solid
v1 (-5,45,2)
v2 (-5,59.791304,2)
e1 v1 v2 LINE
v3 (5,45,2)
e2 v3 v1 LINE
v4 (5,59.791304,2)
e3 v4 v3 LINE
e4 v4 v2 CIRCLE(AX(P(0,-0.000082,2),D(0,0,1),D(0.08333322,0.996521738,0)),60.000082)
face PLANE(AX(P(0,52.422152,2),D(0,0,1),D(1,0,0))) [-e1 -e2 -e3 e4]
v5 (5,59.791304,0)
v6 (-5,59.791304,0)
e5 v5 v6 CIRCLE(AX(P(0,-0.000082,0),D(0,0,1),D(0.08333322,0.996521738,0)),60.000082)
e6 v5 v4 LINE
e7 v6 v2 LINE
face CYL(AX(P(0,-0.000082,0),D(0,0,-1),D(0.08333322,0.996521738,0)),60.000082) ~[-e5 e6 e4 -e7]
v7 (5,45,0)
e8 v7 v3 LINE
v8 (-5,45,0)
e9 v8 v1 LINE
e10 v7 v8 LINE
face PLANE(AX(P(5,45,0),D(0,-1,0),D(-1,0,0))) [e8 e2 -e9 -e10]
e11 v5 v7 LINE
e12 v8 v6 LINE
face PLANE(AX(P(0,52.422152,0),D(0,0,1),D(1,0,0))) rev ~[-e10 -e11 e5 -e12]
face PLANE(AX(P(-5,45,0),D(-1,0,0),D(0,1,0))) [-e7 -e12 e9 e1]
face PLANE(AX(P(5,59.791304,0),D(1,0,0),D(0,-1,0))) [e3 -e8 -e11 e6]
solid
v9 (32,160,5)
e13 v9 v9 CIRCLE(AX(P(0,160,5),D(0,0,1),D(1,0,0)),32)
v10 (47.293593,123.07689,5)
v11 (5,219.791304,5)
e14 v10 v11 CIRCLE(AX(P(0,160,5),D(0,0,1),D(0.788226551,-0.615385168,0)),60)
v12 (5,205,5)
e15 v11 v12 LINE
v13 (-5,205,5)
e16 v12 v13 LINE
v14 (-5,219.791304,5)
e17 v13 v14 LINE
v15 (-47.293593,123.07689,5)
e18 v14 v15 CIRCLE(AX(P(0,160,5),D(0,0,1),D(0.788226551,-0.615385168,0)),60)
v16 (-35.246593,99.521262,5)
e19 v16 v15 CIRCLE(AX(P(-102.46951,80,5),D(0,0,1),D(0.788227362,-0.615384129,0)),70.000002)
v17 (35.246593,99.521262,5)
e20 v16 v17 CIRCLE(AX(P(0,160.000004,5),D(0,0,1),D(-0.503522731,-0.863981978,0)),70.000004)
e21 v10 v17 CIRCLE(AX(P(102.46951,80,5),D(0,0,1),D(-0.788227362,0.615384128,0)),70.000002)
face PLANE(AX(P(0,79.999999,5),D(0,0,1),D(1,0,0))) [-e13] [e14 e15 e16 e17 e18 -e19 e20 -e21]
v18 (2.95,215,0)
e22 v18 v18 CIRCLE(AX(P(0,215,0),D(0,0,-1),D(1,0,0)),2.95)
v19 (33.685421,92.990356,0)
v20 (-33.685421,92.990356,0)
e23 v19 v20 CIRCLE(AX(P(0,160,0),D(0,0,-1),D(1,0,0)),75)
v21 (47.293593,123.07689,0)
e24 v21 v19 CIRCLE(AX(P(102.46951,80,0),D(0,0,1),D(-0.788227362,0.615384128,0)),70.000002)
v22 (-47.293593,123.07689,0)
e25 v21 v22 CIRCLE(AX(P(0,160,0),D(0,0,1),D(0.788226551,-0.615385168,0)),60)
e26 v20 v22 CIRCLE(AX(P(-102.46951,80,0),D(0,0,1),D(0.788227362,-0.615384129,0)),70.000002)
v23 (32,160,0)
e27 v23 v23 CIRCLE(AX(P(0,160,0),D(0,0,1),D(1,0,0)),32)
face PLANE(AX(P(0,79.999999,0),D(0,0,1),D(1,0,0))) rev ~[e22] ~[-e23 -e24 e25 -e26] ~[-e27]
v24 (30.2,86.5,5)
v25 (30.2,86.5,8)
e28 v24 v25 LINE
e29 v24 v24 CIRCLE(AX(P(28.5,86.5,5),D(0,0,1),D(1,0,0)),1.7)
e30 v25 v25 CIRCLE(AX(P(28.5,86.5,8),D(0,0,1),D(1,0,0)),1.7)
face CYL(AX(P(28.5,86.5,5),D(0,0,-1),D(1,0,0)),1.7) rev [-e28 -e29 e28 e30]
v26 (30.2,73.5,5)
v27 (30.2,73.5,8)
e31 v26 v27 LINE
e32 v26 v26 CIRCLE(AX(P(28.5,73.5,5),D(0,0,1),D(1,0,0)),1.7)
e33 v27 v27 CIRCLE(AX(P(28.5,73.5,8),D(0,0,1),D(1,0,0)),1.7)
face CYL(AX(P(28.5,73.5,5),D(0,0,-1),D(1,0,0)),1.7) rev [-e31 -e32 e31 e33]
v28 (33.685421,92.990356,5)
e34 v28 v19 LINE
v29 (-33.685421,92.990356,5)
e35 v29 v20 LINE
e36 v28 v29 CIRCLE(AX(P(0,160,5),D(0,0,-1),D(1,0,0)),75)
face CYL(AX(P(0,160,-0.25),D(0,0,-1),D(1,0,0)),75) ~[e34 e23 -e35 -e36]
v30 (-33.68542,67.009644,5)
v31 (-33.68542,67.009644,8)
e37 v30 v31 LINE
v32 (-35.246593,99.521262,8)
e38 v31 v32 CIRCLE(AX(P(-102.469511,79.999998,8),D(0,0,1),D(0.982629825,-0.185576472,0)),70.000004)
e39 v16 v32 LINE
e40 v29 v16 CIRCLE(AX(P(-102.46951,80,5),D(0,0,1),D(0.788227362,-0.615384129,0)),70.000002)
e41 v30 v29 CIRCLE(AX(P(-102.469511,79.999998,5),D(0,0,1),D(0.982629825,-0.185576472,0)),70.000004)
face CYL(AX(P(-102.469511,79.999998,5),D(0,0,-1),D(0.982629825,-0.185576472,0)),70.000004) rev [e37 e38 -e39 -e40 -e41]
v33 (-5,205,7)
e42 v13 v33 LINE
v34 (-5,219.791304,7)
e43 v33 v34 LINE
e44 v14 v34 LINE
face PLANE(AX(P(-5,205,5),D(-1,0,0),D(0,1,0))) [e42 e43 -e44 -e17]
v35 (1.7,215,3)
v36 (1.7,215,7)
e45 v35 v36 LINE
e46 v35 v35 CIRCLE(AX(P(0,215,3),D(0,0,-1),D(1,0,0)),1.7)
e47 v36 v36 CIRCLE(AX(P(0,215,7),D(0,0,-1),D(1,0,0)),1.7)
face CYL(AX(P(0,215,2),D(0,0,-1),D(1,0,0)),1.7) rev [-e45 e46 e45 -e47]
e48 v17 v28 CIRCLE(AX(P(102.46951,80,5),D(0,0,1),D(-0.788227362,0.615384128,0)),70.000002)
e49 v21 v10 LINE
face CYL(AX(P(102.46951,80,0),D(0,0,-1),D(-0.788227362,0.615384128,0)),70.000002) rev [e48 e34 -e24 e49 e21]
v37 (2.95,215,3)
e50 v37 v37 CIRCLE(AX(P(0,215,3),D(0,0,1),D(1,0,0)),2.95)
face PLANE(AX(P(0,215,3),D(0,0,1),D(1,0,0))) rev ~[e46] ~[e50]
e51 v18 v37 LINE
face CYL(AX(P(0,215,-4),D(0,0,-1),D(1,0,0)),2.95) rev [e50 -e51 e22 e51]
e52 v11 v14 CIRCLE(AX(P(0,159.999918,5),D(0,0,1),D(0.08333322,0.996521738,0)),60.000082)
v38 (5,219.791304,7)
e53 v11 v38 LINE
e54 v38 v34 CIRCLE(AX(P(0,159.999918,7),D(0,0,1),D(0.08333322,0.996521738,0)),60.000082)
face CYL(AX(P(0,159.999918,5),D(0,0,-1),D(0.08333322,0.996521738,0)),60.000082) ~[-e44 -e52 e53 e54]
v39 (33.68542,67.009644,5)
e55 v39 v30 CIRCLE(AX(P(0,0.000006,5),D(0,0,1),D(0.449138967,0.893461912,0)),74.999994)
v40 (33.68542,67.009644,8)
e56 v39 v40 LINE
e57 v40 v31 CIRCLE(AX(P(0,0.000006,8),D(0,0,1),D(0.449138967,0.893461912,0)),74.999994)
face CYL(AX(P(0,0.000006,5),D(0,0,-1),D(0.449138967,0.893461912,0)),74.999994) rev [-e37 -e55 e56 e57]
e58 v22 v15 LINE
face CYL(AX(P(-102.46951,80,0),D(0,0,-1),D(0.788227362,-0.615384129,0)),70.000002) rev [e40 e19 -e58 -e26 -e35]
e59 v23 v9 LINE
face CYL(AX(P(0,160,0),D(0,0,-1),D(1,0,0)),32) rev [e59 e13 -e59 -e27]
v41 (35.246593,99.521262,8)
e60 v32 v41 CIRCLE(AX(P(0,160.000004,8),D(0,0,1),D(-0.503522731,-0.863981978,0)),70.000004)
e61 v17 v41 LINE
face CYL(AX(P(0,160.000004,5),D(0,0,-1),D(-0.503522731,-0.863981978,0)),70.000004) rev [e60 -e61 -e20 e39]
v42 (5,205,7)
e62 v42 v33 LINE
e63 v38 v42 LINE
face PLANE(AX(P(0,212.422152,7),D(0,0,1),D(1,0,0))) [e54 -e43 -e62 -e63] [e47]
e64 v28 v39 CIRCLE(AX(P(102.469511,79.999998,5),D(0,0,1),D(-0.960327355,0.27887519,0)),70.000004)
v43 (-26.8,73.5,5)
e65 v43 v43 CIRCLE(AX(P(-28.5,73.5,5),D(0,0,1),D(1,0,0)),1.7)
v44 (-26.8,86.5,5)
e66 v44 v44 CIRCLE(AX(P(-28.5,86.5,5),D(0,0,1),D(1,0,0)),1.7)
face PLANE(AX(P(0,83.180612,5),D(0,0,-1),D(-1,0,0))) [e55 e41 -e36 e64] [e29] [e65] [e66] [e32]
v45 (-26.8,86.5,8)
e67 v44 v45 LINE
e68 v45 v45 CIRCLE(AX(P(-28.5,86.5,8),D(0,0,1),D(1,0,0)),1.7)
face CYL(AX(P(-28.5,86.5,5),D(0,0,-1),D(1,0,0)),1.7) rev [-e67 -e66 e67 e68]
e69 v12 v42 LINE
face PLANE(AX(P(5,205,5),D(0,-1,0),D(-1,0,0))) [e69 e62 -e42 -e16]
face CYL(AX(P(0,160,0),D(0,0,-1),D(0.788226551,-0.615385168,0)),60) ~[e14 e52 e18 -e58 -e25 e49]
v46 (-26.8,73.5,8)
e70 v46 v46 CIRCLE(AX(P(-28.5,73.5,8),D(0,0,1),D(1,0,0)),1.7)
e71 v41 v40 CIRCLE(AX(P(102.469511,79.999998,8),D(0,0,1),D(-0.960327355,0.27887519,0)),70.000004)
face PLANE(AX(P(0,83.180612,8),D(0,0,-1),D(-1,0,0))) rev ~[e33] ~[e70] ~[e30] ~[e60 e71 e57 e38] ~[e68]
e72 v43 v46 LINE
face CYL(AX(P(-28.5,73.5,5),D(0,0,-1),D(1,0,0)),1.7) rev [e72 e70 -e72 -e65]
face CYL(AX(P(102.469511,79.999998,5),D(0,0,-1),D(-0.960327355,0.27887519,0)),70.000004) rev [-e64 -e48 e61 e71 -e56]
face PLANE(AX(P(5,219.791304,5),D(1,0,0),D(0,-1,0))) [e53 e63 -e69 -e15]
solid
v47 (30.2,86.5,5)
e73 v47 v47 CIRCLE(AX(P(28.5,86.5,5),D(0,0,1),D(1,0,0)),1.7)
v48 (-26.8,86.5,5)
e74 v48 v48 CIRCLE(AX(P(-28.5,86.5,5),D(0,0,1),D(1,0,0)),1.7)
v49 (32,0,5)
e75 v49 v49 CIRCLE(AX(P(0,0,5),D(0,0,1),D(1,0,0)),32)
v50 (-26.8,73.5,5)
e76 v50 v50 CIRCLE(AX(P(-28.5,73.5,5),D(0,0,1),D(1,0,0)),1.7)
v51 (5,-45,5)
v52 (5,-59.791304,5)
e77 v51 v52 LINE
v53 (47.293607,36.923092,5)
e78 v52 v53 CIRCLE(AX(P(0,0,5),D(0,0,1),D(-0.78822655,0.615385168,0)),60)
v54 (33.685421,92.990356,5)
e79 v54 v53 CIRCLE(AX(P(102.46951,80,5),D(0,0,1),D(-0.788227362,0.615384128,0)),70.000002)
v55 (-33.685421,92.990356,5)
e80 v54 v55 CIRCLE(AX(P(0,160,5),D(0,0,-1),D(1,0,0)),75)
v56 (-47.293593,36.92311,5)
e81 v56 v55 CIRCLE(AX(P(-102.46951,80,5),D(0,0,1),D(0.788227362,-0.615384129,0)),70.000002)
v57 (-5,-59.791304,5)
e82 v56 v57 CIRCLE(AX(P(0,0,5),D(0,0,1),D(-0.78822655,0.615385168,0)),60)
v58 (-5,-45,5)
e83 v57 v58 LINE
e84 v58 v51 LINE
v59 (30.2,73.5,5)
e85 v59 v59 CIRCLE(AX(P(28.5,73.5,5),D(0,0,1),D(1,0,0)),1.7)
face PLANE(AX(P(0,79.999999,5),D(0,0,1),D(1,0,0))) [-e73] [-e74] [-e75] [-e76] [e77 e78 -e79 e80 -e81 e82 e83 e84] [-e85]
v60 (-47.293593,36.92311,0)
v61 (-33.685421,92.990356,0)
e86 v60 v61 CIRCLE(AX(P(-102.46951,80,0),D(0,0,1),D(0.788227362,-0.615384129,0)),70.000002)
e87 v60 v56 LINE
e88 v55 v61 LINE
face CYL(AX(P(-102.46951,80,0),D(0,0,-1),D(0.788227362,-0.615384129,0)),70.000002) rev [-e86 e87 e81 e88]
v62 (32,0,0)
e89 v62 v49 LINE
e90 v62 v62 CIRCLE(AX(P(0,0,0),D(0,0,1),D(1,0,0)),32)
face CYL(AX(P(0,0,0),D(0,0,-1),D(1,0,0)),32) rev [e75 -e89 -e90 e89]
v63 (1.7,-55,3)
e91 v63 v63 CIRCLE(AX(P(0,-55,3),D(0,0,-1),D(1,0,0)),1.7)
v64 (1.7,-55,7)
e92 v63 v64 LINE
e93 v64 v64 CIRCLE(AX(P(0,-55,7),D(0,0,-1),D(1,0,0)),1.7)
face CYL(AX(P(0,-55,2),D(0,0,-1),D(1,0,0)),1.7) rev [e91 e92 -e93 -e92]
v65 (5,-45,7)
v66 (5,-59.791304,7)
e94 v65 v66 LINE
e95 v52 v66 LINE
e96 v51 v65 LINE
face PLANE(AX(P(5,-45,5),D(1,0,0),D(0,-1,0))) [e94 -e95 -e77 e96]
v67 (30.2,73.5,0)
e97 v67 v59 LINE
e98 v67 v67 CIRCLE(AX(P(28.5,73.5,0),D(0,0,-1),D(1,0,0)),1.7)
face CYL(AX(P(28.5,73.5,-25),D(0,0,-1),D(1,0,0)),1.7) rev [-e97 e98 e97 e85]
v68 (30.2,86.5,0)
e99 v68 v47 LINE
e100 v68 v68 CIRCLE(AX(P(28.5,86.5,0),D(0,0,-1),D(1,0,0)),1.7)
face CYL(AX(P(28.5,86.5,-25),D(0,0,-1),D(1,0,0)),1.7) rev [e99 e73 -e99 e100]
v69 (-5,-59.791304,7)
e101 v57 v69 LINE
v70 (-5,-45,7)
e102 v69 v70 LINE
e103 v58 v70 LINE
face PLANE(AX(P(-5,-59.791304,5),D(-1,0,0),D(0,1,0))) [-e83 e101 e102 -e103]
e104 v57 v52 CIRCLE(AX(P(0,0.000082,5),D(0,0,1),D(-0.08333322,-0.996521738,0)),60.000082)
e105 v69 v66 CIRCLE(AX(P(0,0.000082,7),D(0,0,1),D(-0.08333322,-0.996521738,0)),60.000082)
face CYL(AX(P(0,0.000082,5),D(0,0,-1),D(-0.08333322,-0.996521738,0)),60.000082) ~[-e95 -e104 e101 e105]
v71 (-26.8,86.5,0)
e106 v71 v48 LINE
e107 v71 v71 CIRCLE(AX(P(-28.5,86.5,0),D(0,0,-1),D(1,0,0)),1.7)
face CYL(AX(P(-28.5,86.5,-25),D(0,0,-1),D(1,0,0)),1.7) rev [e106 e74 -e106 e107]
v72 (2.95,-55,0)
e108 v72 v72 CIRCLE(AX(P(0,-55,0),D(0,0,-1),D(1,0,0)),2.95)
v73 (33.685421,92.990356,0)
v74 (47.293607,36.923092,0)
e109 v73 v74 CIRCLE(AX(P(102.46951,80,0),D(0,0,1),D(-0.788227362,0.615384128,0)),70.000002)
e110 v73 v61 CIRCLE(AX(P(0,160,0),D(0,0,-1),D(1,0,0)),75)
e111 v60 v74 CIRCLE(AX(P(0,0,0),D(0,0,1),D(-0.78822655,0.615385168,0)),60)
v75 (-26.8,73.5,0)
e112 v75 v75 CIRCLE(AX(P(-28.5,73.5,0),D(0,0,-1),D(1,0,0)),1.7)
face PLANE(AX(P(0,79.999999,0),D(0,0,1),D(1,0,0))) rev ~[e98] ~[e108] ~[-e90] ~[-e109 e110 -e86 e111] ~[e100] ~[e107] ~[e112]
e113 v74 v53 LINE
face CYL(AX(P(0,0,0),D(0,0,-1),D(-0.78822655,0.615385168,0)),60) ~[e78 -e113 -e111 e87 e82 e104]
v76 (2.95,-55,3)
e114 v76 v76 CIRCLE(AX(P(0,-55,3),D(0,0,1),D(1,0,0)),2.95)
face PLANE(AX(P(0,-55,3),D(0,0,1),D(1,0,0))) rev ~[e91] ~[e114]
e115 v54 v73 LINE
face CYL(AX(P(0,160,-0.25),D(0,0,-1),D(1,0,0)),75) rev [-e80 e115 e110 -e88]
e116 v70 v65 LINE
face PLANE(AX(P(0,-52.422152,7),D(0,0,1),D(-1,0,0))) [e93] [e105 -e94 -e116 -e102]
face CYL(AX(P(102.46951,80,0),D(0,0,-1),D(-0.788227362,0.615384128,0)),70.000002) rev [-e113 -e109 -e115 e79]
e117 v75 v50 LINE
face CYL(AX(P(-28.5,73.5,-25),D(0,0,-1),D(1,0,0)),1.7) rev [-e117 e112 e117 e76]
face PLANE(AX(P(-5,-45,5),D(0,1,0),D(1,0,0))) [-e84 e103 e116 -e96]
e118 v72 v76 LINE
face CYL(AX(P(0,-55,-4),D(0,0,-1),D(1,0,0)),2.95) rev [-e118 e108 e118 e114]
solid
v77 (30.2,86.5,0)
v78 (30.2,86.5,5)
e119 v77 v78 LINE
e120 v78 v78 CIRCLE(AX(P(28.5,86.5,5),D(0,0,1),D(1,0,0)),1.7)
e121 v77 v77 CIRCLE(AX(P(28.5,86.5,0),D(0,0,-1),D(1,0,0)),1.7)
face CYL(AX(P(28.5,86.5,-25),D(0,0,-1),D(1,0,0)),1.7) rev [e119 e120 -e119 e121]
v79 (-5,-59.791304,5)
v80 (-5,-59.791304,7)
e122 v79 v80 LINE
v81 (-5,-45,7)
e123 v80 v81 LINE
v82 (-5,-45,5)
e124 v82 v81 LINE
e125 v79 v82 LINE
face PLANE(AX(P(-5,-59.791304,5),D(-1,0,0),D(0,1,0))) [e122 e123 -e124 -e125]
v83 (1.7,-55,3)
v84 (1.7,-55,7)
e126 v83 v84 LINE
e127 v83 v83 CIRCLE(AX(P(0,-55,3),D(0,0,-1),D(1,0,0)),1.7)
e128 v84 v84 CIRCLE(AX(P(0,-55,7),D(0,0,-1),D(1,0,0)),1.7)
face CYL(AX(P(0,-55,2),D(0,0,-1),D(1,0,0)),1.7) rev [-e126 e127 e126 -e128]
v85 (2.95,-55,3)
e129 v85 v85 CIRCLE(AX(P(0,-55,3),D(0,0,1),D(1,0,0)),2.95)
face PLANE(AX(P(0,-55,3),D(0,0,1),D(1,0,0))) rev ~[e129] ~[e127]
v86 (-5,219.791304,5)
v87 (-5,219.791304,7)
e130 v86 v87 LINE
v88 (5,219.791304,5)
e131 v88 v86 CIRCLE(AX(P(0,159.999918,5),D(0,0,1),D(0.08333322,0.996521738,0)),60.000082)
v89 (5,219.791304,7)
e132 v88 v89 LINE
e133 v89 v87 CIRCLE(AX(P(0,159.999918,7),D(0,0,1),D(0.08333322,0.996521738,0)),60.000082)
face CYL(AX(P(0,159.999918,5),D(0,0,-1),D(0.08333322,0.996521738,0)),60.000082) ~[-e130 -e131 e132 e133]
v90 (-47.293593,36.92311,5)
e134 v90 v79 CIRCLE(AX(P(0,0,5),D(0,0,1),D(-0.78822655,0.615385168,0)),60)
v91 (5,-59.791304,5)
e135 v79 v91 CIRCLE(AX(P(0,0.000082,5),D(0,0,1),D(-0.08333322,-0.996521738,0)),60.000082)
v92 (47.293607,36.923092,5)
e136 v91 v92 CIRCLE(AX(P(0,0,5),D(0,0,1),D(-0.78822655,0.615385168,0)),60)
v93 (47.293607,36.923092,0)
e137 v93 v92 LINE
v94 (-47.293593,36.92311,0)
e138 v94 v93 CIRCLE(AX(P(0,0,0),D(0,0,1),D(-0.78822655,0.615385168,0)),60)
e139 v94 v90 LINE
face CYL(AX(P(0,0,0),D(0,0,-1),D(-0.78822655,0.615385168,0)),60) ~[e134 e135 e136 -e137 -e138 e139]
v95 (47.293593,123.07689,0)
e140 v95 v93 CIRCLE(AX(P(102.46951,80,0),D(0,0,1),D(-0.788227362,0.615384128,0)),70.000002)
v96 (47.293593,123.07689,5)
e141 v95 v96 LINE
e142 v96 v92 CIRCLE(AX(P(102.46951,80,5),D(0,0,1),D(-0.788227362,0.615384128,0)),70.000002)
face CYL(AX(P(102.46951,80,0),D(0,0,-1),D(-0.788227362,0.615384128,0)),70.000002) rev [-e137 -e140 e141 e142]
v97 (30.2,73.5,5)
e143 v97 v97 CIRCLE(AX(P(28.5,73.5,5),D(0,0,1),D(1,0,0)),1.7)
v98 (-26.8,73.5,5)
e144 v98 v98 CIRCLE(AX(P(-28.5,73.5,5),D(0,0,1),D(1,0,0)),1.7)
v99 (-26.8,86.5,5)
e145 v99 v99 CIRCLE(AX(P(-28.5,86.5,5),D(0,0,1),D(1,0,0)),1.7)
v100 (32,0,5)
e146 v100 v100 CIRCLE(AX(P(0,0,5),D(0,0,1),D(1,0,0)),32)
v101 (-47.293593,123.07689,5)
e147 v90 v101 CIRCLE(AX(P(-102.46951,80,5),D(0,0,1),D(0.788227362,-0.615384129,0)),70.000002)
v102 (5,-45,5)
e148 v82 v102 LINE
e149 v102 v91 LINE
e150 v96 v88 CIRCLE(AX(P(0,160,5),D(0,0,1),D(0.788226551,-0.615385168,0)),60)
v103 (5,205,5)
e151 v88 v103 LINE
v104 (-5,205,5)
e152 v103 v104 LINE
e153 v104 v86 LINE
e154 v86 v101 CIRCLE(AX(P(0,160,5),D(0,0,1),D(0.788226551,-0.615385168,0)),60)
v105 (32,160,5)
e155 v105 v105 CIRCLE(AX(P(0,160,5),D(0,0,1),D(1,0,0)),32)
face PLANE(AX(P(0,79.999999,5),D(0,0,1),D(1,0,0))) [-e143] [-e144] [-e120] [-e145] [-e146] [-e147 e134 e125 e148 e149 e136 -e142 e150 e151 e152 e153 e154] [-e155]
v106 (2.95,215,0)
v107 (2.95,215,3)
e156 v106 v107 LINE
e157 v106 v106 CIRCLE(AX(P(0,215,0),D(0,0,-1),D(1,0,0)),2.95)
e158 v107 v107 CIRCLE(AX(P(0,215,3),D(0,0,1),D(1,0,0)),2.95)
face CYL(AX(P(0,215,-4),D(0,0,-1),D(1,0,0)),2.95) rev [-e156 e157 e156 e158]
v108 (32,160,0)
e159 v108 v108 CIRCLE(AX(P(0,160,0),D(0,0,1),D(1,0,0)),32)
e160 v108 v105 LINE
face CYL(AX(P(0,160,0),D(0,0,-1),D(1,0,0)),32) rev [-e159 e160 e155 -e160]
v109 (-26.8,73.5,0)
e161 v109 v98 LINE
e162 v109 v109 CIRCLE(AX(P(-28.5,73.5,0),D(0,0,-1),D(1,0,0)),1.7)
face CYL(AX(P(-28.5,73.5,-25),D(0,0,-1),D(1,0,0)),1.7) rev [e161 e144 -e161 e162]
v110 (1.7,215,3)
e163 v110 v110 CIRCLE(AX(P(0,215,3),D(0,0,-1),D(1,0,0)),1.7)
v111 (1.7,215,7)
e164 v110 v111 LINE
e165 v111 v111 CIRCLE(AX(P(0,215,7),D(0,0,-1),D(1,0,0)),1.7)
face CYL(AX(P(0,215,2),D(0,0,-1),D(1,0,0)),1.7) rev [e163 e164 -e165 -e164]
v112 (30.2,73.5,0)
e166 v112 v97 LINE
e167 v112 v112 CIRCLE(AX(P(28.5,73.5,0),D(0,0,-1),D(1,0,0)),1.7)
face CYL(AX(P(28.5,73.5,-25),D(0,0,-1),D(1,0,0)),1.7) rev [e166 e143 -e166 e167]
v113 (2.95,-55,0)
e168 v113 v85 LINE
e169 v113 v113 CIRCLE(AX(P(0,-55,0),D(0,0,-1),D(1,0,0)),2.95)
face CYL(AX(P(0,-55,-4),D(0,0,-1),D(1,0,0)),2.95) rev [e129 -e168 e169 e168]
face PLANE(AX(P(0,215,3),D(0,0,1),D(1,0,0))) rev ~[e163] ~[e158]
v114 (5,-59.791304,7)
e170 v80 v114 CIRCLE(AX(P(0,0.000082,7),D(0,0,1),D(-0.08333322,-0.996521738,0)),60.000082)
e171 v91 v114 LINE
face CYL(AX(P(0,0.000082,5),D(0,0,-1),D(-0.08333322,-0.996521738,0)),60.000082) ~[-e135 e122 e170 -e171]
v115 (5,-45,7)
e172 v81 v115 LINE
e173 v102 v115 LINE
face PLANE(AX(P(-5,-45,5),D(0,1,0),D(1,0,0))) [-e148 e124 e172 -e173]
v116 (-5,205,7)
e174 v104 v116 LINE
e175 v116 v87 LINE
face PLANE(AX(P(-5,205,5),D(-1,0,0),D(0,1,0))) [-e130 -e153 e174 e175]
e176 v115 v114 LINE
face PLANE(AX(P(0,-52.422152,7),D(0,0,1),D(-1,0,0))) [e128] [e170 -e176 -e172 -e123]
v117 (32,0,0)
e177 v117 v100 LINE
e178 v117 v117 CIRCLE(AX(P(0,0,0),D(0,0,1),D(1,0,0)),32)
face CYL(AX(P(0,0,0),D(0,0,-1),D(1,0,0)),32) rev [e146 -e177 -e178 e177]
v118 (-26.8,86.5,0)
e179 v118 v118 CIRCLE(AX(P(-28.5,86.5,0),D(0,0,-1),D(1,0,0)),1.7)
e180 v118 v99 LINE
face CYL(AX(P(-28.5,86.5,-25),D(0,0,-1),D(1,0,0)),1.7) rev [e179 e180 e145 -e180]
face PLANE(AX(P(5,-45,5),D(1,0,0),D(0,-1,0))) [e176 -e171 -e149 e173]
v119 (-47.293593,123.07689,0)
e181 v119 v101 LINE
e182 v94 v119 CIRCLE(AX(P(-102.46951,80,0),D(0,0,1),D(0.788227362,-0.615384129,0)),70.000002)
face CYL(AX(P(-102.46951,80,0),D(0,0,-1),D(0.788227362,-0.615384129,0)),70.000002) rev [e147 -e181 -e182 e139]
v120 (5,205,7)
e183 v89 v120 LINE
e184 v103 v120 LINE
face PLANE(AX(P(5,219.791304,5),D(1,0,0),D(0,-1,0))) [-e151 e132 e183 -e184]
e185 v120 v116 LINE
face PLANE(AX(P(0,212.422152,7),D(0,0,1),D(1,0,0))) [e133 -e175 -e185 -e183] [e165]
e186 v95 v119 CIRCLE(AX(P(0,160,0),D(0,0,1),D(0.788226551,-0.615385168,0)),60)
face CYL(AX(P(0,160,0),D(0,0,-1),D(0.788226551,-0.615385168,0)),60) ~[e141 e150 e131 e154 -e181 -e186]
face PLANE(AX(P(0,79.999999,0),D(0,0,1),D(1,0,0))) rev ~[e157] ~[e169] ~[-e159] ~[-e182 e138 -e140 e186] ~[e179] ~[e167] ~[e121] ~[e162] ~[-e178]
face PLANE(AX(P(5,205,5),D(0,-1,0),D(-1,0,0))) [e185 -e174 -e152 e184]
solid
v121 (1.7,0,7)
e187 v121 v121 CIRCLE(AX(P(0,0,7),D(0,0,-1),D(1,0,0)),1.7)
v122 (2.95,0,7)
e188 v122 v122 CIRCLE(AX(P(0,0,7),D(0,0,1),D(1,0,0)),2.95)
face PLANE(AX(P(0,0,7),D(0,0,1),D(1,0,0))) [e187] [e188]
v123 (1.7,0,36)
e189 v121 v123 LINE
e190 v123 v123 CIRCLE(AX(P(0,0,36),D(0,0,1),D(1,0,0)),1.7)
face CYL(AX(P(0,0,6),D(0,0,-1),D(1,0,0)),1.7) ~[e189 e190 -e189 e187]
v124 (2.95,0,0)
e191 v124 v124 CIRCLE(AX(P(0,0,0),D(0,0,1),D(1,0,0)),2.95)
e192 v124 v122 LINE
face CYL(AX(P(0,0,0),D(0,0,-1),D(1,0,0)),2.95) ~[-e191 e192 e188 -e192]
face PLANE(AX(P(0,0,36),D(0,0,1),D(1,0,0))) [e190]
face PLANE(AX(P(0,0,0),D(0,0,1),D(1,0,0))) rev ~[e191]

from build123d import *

# Parameters (mm, degrees)
CYLINDER_R               = 2.95
CYLINDER_DEPTH           = 7
CYLINDER001_R            = 1.7
CYLINDER001_DEPTH        = 30
PAD023_DEPTH             = 2
CLONE185_PLACEMENT_ANGLE = 180
SKETCH031_R              = 32
PAD022_DEPTH             = 5
SKETCH029_R              = 75
PAD049_DEPTH             = 35
SKETCH023_R              = 1.7
PAD_DEPTH                = 3


with BuildPart() as m3bolthead:
    # Cylinder → Cylinder (new body)
    with BuildSketch(Plane.XY):
        Circle(CYLINDER_R)
    extrude(amount=CYLINDER_DEPTH)


with BuildPart() as m3bolt:
    # Cylinder001 → Cylinder001 (new body)
    with BuildSketch(Plane.XY.offset(6)):
        Circle(CYLINDER001_R)
    extrude(amount=CYLINDER001_DEPTH)

    # Fusion: union M3BoltHead
    add(m3bolthead.part)


with BuildPart() as art2coversupportmaster:
    # Sketch032 → Pad023 (new body)
    with BuildSketch(Plane.XY):
        with BuildLine():
            ThreePointArc((5, 59.791304), (0, 60), (-5, 59.791304))
            Line((-5, 45), (-5, 59.791304))
            Line((5, 45), (-5, 45))
            Line((5, 59.791304), (5, 45))
        make_face()
    extrude(amount=PAD023_DEPTH)


with BuildPart() as clone_of_m3bolt057:
    # Clone191 base: copy of M3Bolt
    add(m3bolt.part)


with BuildPart() as clone_of_m3bolt057_1:
    # Clone191 placement: moved
    add(clone_of_m3bolt057.part.moved(Location((28.5, 86.5, -31))))


with BuildPart() as clone_of_m3bolt056:
    # Clone190 base: copy of M3Bolt
    add(m3bolt.part)


with BuildPart() as clone_of_m3bolt056_1:
    # Clone190 placement: moved
    add(clone_of_m3bolt056.part.moved(Location((-28.5, 73.5, -31))))


with BuildPart() as clone_of_m3bolt058:
    # Clone192 base: copy of M3Bolt
    add(m3bolt.part)


with BuildPart() as clone_of_m3bolt058_1:
    # Clone192 placement: moved
    add(clone_of_m3bolt058.part.moved(Location((28.5, 73.5, -31))))


with BuildPart() as clone_of_m3bolt053:
    # Clone186 base: copy of M3Bolt
    add(m3bolt.part)


with BuildPart() as clone_of_m3bolt053_1:
    # Clone186 placement: moved
    add(clone_of_m3bolt053.part.moved(Location((0, 215, -4))))


with BuildPart() as clone_of_m3bolt054:
    # Clone187 base: copy of M3Bolt
    add(m3bolt.part)


with BuildPart() as clone_of_m3bolt054_1:
    # Clone187 placement: moved
    add(clone_of_m3bolt054.part.moved(Location((0, -55, -4))))


with BuildPart() as fusion070:
    # Clone189 base: copy of M3Bolt
    add(m3bolt.part)


with BuildPart() as fusion070_1:
    # Clone189 placement: moved
    add(fusion070.part.moved(Location((-28.5, 86.5, -31))))

    # Fusion070: union Clone of M3Bolt057, Clone of M3Bolt056, Clone of M3Bolt058, Clone of M3Bolt053, Clone of M3Bolt054
    add(clone_of_m3bolt057_1.part)
    add(clone_of_m3bolt056_1.part)
    add(clone_of_m3bolt058_1.part)
    add(clone_of_m3bolt053_1.part)
    add(clone_of_m3bolt054_1.part)


with BuildPart() as clone_of_art2coversupportmaster001:
    # Clone185 base: copy of Art2CoverSupportMaster
    add(art2coversupportmaster.part)


with BuildPart() as clone_of_art2coversupportmaster001_1:
    # Clone185 placement: moved
    add(clone_of_art2coversupportmaster001.part.moved(Location((0, 0, 5))).rotate(Axis((0, 0, 5), (0, 0, 1)), CLONE185_PLACEMENT_ANGLE))


with BuildPart() as clone_of_art2coversupportmaster:
    # Clone184 base: copy of Art2CoverSupportMaster
    add(art2coversupportmaster.part)


with BuildPart() as clone_of_art2coversupportmaster_1:
    # Clone184 placement: moved
    add(clone_of_art2coversupportmaster.part.moved(Location((0, 160, 5))))


with BuildPart() as art2bodybcover:
    # Sketch031 → Pad022 (new body)
    with BuildSketch(Plane.XY):
        with BuildLine():
            ThreePointArc((-47.293593, 36.92311), (-1.1e-05, -60), (47.293607, 36.923092))
            ThreePointArc((47.293593, 123.07689), (32.469508, 79.999989), (47.293607, 36.923092))
            ThreePointArc((47.293593, 123.07689), (0, 220), (-47.293593, 123.07689))
            ThreePointArc((-47.293593, 36.92311), (-32.469508, 80), (-47.293593, 123.07689))
        make_face()
        Circle(SKETCH031_R, mode=Mode.SUBTRACT)
        with Locations((0, 160)):
            Circle(SKETCH031_R, mode=Mode.SUBTRACT)
    extrude(amount=PAD022_DEPTH)

    # Fusion067: union Clone of Art2CoverSupportMaster001, Clone of Art2CoverSupportMaster
    add(clone_of_art2coversupportmaster001_1.part)
    add(clone_of_art2coversupportmaster_1.part)

    # Cut059: cut Fusion070
    add(fusion070_1.part, mode=Mode.SUBTRACT)


with BuildPart() as pad049:
    # Sketch029 → Pad049 (new body)
    with BuildSketch(Plane.XY.offset(-0.25)):
        with Locations((0, 160)):
            Circle(SKETCH029_R)
    extrude(amount=PAD049_DEPTH)


with BuildPart() as art2bodycoverbsmall1:
    # Clone base: copy of Art2BodyBCover
    add(art2bodybcover.part)

    # Cut: cut Pad049
    add(pad049.part, mode=Mode.SUBTRACT)


with BuildPart() as pad:
    # Sketch023 → Pad (new body)
    with BuildSketch(Plane.XY.offset(5)):
        with BuildLine():
            ThreePointArc((33.68542, 67.009644), (0, 75), (-33.68542, 67.009644))
            ThreePointArc((-33.68542, 67.009644), (-32.550072, 83.357454), (-35.246593, 99.521262))
            ThreePointArc((-35.246593, 99.521262), (0, 90), (35.246593, 99.521262))
            ThreePointArc((35.246593, 99.521262), (32.550072, 83.357454), (33.68542, 67.009644))
        make_face()
        with Locations((-28.5, 73.5)):
            Circle(SKETCH023_R, mode=Mode.SUBTRACT)
        with Locations((-28.5, 86.5)):
            Circle(SKETCH023_R, mode=Mode.SUBTRACT)
        with Locations((28.5, 86.5)):
            Circle(SKETCH023_R, mode=Mode.SUBTRACT)
        with Locations((28.5, 73.5)):
            Circle(SKETCH023_R, mode=Mode.SUBTRACT)
    extrude(amount=PAD_DEPTH)


with BuildPart() as clone_of_art2bodycoverbsmall1:
    # Clone194 base: copy of Art2BodyCoverBSmall1
    add(art2bodycoverbsmall1.part)


with BuildPart() as art2bodycoverbsmall2:
    # Clone193 base: copy of Art2BodyBCover
    add(art2bodybcover.part)

    # Cut060: cut Clone of Art2BodyCoverBSmall1
    add(clone_of_art2bodycoverbsmall1.part, mode=Mode.SUBTRACT)

    # Fusion071: union Pad
    add(pad.part)


solid = Compound([m3bolt.part, art2coversupportmaster.part, art2bodybcover.part, art2bodycoverbsmall1.part, art2bodycoverbsmall2.part])
